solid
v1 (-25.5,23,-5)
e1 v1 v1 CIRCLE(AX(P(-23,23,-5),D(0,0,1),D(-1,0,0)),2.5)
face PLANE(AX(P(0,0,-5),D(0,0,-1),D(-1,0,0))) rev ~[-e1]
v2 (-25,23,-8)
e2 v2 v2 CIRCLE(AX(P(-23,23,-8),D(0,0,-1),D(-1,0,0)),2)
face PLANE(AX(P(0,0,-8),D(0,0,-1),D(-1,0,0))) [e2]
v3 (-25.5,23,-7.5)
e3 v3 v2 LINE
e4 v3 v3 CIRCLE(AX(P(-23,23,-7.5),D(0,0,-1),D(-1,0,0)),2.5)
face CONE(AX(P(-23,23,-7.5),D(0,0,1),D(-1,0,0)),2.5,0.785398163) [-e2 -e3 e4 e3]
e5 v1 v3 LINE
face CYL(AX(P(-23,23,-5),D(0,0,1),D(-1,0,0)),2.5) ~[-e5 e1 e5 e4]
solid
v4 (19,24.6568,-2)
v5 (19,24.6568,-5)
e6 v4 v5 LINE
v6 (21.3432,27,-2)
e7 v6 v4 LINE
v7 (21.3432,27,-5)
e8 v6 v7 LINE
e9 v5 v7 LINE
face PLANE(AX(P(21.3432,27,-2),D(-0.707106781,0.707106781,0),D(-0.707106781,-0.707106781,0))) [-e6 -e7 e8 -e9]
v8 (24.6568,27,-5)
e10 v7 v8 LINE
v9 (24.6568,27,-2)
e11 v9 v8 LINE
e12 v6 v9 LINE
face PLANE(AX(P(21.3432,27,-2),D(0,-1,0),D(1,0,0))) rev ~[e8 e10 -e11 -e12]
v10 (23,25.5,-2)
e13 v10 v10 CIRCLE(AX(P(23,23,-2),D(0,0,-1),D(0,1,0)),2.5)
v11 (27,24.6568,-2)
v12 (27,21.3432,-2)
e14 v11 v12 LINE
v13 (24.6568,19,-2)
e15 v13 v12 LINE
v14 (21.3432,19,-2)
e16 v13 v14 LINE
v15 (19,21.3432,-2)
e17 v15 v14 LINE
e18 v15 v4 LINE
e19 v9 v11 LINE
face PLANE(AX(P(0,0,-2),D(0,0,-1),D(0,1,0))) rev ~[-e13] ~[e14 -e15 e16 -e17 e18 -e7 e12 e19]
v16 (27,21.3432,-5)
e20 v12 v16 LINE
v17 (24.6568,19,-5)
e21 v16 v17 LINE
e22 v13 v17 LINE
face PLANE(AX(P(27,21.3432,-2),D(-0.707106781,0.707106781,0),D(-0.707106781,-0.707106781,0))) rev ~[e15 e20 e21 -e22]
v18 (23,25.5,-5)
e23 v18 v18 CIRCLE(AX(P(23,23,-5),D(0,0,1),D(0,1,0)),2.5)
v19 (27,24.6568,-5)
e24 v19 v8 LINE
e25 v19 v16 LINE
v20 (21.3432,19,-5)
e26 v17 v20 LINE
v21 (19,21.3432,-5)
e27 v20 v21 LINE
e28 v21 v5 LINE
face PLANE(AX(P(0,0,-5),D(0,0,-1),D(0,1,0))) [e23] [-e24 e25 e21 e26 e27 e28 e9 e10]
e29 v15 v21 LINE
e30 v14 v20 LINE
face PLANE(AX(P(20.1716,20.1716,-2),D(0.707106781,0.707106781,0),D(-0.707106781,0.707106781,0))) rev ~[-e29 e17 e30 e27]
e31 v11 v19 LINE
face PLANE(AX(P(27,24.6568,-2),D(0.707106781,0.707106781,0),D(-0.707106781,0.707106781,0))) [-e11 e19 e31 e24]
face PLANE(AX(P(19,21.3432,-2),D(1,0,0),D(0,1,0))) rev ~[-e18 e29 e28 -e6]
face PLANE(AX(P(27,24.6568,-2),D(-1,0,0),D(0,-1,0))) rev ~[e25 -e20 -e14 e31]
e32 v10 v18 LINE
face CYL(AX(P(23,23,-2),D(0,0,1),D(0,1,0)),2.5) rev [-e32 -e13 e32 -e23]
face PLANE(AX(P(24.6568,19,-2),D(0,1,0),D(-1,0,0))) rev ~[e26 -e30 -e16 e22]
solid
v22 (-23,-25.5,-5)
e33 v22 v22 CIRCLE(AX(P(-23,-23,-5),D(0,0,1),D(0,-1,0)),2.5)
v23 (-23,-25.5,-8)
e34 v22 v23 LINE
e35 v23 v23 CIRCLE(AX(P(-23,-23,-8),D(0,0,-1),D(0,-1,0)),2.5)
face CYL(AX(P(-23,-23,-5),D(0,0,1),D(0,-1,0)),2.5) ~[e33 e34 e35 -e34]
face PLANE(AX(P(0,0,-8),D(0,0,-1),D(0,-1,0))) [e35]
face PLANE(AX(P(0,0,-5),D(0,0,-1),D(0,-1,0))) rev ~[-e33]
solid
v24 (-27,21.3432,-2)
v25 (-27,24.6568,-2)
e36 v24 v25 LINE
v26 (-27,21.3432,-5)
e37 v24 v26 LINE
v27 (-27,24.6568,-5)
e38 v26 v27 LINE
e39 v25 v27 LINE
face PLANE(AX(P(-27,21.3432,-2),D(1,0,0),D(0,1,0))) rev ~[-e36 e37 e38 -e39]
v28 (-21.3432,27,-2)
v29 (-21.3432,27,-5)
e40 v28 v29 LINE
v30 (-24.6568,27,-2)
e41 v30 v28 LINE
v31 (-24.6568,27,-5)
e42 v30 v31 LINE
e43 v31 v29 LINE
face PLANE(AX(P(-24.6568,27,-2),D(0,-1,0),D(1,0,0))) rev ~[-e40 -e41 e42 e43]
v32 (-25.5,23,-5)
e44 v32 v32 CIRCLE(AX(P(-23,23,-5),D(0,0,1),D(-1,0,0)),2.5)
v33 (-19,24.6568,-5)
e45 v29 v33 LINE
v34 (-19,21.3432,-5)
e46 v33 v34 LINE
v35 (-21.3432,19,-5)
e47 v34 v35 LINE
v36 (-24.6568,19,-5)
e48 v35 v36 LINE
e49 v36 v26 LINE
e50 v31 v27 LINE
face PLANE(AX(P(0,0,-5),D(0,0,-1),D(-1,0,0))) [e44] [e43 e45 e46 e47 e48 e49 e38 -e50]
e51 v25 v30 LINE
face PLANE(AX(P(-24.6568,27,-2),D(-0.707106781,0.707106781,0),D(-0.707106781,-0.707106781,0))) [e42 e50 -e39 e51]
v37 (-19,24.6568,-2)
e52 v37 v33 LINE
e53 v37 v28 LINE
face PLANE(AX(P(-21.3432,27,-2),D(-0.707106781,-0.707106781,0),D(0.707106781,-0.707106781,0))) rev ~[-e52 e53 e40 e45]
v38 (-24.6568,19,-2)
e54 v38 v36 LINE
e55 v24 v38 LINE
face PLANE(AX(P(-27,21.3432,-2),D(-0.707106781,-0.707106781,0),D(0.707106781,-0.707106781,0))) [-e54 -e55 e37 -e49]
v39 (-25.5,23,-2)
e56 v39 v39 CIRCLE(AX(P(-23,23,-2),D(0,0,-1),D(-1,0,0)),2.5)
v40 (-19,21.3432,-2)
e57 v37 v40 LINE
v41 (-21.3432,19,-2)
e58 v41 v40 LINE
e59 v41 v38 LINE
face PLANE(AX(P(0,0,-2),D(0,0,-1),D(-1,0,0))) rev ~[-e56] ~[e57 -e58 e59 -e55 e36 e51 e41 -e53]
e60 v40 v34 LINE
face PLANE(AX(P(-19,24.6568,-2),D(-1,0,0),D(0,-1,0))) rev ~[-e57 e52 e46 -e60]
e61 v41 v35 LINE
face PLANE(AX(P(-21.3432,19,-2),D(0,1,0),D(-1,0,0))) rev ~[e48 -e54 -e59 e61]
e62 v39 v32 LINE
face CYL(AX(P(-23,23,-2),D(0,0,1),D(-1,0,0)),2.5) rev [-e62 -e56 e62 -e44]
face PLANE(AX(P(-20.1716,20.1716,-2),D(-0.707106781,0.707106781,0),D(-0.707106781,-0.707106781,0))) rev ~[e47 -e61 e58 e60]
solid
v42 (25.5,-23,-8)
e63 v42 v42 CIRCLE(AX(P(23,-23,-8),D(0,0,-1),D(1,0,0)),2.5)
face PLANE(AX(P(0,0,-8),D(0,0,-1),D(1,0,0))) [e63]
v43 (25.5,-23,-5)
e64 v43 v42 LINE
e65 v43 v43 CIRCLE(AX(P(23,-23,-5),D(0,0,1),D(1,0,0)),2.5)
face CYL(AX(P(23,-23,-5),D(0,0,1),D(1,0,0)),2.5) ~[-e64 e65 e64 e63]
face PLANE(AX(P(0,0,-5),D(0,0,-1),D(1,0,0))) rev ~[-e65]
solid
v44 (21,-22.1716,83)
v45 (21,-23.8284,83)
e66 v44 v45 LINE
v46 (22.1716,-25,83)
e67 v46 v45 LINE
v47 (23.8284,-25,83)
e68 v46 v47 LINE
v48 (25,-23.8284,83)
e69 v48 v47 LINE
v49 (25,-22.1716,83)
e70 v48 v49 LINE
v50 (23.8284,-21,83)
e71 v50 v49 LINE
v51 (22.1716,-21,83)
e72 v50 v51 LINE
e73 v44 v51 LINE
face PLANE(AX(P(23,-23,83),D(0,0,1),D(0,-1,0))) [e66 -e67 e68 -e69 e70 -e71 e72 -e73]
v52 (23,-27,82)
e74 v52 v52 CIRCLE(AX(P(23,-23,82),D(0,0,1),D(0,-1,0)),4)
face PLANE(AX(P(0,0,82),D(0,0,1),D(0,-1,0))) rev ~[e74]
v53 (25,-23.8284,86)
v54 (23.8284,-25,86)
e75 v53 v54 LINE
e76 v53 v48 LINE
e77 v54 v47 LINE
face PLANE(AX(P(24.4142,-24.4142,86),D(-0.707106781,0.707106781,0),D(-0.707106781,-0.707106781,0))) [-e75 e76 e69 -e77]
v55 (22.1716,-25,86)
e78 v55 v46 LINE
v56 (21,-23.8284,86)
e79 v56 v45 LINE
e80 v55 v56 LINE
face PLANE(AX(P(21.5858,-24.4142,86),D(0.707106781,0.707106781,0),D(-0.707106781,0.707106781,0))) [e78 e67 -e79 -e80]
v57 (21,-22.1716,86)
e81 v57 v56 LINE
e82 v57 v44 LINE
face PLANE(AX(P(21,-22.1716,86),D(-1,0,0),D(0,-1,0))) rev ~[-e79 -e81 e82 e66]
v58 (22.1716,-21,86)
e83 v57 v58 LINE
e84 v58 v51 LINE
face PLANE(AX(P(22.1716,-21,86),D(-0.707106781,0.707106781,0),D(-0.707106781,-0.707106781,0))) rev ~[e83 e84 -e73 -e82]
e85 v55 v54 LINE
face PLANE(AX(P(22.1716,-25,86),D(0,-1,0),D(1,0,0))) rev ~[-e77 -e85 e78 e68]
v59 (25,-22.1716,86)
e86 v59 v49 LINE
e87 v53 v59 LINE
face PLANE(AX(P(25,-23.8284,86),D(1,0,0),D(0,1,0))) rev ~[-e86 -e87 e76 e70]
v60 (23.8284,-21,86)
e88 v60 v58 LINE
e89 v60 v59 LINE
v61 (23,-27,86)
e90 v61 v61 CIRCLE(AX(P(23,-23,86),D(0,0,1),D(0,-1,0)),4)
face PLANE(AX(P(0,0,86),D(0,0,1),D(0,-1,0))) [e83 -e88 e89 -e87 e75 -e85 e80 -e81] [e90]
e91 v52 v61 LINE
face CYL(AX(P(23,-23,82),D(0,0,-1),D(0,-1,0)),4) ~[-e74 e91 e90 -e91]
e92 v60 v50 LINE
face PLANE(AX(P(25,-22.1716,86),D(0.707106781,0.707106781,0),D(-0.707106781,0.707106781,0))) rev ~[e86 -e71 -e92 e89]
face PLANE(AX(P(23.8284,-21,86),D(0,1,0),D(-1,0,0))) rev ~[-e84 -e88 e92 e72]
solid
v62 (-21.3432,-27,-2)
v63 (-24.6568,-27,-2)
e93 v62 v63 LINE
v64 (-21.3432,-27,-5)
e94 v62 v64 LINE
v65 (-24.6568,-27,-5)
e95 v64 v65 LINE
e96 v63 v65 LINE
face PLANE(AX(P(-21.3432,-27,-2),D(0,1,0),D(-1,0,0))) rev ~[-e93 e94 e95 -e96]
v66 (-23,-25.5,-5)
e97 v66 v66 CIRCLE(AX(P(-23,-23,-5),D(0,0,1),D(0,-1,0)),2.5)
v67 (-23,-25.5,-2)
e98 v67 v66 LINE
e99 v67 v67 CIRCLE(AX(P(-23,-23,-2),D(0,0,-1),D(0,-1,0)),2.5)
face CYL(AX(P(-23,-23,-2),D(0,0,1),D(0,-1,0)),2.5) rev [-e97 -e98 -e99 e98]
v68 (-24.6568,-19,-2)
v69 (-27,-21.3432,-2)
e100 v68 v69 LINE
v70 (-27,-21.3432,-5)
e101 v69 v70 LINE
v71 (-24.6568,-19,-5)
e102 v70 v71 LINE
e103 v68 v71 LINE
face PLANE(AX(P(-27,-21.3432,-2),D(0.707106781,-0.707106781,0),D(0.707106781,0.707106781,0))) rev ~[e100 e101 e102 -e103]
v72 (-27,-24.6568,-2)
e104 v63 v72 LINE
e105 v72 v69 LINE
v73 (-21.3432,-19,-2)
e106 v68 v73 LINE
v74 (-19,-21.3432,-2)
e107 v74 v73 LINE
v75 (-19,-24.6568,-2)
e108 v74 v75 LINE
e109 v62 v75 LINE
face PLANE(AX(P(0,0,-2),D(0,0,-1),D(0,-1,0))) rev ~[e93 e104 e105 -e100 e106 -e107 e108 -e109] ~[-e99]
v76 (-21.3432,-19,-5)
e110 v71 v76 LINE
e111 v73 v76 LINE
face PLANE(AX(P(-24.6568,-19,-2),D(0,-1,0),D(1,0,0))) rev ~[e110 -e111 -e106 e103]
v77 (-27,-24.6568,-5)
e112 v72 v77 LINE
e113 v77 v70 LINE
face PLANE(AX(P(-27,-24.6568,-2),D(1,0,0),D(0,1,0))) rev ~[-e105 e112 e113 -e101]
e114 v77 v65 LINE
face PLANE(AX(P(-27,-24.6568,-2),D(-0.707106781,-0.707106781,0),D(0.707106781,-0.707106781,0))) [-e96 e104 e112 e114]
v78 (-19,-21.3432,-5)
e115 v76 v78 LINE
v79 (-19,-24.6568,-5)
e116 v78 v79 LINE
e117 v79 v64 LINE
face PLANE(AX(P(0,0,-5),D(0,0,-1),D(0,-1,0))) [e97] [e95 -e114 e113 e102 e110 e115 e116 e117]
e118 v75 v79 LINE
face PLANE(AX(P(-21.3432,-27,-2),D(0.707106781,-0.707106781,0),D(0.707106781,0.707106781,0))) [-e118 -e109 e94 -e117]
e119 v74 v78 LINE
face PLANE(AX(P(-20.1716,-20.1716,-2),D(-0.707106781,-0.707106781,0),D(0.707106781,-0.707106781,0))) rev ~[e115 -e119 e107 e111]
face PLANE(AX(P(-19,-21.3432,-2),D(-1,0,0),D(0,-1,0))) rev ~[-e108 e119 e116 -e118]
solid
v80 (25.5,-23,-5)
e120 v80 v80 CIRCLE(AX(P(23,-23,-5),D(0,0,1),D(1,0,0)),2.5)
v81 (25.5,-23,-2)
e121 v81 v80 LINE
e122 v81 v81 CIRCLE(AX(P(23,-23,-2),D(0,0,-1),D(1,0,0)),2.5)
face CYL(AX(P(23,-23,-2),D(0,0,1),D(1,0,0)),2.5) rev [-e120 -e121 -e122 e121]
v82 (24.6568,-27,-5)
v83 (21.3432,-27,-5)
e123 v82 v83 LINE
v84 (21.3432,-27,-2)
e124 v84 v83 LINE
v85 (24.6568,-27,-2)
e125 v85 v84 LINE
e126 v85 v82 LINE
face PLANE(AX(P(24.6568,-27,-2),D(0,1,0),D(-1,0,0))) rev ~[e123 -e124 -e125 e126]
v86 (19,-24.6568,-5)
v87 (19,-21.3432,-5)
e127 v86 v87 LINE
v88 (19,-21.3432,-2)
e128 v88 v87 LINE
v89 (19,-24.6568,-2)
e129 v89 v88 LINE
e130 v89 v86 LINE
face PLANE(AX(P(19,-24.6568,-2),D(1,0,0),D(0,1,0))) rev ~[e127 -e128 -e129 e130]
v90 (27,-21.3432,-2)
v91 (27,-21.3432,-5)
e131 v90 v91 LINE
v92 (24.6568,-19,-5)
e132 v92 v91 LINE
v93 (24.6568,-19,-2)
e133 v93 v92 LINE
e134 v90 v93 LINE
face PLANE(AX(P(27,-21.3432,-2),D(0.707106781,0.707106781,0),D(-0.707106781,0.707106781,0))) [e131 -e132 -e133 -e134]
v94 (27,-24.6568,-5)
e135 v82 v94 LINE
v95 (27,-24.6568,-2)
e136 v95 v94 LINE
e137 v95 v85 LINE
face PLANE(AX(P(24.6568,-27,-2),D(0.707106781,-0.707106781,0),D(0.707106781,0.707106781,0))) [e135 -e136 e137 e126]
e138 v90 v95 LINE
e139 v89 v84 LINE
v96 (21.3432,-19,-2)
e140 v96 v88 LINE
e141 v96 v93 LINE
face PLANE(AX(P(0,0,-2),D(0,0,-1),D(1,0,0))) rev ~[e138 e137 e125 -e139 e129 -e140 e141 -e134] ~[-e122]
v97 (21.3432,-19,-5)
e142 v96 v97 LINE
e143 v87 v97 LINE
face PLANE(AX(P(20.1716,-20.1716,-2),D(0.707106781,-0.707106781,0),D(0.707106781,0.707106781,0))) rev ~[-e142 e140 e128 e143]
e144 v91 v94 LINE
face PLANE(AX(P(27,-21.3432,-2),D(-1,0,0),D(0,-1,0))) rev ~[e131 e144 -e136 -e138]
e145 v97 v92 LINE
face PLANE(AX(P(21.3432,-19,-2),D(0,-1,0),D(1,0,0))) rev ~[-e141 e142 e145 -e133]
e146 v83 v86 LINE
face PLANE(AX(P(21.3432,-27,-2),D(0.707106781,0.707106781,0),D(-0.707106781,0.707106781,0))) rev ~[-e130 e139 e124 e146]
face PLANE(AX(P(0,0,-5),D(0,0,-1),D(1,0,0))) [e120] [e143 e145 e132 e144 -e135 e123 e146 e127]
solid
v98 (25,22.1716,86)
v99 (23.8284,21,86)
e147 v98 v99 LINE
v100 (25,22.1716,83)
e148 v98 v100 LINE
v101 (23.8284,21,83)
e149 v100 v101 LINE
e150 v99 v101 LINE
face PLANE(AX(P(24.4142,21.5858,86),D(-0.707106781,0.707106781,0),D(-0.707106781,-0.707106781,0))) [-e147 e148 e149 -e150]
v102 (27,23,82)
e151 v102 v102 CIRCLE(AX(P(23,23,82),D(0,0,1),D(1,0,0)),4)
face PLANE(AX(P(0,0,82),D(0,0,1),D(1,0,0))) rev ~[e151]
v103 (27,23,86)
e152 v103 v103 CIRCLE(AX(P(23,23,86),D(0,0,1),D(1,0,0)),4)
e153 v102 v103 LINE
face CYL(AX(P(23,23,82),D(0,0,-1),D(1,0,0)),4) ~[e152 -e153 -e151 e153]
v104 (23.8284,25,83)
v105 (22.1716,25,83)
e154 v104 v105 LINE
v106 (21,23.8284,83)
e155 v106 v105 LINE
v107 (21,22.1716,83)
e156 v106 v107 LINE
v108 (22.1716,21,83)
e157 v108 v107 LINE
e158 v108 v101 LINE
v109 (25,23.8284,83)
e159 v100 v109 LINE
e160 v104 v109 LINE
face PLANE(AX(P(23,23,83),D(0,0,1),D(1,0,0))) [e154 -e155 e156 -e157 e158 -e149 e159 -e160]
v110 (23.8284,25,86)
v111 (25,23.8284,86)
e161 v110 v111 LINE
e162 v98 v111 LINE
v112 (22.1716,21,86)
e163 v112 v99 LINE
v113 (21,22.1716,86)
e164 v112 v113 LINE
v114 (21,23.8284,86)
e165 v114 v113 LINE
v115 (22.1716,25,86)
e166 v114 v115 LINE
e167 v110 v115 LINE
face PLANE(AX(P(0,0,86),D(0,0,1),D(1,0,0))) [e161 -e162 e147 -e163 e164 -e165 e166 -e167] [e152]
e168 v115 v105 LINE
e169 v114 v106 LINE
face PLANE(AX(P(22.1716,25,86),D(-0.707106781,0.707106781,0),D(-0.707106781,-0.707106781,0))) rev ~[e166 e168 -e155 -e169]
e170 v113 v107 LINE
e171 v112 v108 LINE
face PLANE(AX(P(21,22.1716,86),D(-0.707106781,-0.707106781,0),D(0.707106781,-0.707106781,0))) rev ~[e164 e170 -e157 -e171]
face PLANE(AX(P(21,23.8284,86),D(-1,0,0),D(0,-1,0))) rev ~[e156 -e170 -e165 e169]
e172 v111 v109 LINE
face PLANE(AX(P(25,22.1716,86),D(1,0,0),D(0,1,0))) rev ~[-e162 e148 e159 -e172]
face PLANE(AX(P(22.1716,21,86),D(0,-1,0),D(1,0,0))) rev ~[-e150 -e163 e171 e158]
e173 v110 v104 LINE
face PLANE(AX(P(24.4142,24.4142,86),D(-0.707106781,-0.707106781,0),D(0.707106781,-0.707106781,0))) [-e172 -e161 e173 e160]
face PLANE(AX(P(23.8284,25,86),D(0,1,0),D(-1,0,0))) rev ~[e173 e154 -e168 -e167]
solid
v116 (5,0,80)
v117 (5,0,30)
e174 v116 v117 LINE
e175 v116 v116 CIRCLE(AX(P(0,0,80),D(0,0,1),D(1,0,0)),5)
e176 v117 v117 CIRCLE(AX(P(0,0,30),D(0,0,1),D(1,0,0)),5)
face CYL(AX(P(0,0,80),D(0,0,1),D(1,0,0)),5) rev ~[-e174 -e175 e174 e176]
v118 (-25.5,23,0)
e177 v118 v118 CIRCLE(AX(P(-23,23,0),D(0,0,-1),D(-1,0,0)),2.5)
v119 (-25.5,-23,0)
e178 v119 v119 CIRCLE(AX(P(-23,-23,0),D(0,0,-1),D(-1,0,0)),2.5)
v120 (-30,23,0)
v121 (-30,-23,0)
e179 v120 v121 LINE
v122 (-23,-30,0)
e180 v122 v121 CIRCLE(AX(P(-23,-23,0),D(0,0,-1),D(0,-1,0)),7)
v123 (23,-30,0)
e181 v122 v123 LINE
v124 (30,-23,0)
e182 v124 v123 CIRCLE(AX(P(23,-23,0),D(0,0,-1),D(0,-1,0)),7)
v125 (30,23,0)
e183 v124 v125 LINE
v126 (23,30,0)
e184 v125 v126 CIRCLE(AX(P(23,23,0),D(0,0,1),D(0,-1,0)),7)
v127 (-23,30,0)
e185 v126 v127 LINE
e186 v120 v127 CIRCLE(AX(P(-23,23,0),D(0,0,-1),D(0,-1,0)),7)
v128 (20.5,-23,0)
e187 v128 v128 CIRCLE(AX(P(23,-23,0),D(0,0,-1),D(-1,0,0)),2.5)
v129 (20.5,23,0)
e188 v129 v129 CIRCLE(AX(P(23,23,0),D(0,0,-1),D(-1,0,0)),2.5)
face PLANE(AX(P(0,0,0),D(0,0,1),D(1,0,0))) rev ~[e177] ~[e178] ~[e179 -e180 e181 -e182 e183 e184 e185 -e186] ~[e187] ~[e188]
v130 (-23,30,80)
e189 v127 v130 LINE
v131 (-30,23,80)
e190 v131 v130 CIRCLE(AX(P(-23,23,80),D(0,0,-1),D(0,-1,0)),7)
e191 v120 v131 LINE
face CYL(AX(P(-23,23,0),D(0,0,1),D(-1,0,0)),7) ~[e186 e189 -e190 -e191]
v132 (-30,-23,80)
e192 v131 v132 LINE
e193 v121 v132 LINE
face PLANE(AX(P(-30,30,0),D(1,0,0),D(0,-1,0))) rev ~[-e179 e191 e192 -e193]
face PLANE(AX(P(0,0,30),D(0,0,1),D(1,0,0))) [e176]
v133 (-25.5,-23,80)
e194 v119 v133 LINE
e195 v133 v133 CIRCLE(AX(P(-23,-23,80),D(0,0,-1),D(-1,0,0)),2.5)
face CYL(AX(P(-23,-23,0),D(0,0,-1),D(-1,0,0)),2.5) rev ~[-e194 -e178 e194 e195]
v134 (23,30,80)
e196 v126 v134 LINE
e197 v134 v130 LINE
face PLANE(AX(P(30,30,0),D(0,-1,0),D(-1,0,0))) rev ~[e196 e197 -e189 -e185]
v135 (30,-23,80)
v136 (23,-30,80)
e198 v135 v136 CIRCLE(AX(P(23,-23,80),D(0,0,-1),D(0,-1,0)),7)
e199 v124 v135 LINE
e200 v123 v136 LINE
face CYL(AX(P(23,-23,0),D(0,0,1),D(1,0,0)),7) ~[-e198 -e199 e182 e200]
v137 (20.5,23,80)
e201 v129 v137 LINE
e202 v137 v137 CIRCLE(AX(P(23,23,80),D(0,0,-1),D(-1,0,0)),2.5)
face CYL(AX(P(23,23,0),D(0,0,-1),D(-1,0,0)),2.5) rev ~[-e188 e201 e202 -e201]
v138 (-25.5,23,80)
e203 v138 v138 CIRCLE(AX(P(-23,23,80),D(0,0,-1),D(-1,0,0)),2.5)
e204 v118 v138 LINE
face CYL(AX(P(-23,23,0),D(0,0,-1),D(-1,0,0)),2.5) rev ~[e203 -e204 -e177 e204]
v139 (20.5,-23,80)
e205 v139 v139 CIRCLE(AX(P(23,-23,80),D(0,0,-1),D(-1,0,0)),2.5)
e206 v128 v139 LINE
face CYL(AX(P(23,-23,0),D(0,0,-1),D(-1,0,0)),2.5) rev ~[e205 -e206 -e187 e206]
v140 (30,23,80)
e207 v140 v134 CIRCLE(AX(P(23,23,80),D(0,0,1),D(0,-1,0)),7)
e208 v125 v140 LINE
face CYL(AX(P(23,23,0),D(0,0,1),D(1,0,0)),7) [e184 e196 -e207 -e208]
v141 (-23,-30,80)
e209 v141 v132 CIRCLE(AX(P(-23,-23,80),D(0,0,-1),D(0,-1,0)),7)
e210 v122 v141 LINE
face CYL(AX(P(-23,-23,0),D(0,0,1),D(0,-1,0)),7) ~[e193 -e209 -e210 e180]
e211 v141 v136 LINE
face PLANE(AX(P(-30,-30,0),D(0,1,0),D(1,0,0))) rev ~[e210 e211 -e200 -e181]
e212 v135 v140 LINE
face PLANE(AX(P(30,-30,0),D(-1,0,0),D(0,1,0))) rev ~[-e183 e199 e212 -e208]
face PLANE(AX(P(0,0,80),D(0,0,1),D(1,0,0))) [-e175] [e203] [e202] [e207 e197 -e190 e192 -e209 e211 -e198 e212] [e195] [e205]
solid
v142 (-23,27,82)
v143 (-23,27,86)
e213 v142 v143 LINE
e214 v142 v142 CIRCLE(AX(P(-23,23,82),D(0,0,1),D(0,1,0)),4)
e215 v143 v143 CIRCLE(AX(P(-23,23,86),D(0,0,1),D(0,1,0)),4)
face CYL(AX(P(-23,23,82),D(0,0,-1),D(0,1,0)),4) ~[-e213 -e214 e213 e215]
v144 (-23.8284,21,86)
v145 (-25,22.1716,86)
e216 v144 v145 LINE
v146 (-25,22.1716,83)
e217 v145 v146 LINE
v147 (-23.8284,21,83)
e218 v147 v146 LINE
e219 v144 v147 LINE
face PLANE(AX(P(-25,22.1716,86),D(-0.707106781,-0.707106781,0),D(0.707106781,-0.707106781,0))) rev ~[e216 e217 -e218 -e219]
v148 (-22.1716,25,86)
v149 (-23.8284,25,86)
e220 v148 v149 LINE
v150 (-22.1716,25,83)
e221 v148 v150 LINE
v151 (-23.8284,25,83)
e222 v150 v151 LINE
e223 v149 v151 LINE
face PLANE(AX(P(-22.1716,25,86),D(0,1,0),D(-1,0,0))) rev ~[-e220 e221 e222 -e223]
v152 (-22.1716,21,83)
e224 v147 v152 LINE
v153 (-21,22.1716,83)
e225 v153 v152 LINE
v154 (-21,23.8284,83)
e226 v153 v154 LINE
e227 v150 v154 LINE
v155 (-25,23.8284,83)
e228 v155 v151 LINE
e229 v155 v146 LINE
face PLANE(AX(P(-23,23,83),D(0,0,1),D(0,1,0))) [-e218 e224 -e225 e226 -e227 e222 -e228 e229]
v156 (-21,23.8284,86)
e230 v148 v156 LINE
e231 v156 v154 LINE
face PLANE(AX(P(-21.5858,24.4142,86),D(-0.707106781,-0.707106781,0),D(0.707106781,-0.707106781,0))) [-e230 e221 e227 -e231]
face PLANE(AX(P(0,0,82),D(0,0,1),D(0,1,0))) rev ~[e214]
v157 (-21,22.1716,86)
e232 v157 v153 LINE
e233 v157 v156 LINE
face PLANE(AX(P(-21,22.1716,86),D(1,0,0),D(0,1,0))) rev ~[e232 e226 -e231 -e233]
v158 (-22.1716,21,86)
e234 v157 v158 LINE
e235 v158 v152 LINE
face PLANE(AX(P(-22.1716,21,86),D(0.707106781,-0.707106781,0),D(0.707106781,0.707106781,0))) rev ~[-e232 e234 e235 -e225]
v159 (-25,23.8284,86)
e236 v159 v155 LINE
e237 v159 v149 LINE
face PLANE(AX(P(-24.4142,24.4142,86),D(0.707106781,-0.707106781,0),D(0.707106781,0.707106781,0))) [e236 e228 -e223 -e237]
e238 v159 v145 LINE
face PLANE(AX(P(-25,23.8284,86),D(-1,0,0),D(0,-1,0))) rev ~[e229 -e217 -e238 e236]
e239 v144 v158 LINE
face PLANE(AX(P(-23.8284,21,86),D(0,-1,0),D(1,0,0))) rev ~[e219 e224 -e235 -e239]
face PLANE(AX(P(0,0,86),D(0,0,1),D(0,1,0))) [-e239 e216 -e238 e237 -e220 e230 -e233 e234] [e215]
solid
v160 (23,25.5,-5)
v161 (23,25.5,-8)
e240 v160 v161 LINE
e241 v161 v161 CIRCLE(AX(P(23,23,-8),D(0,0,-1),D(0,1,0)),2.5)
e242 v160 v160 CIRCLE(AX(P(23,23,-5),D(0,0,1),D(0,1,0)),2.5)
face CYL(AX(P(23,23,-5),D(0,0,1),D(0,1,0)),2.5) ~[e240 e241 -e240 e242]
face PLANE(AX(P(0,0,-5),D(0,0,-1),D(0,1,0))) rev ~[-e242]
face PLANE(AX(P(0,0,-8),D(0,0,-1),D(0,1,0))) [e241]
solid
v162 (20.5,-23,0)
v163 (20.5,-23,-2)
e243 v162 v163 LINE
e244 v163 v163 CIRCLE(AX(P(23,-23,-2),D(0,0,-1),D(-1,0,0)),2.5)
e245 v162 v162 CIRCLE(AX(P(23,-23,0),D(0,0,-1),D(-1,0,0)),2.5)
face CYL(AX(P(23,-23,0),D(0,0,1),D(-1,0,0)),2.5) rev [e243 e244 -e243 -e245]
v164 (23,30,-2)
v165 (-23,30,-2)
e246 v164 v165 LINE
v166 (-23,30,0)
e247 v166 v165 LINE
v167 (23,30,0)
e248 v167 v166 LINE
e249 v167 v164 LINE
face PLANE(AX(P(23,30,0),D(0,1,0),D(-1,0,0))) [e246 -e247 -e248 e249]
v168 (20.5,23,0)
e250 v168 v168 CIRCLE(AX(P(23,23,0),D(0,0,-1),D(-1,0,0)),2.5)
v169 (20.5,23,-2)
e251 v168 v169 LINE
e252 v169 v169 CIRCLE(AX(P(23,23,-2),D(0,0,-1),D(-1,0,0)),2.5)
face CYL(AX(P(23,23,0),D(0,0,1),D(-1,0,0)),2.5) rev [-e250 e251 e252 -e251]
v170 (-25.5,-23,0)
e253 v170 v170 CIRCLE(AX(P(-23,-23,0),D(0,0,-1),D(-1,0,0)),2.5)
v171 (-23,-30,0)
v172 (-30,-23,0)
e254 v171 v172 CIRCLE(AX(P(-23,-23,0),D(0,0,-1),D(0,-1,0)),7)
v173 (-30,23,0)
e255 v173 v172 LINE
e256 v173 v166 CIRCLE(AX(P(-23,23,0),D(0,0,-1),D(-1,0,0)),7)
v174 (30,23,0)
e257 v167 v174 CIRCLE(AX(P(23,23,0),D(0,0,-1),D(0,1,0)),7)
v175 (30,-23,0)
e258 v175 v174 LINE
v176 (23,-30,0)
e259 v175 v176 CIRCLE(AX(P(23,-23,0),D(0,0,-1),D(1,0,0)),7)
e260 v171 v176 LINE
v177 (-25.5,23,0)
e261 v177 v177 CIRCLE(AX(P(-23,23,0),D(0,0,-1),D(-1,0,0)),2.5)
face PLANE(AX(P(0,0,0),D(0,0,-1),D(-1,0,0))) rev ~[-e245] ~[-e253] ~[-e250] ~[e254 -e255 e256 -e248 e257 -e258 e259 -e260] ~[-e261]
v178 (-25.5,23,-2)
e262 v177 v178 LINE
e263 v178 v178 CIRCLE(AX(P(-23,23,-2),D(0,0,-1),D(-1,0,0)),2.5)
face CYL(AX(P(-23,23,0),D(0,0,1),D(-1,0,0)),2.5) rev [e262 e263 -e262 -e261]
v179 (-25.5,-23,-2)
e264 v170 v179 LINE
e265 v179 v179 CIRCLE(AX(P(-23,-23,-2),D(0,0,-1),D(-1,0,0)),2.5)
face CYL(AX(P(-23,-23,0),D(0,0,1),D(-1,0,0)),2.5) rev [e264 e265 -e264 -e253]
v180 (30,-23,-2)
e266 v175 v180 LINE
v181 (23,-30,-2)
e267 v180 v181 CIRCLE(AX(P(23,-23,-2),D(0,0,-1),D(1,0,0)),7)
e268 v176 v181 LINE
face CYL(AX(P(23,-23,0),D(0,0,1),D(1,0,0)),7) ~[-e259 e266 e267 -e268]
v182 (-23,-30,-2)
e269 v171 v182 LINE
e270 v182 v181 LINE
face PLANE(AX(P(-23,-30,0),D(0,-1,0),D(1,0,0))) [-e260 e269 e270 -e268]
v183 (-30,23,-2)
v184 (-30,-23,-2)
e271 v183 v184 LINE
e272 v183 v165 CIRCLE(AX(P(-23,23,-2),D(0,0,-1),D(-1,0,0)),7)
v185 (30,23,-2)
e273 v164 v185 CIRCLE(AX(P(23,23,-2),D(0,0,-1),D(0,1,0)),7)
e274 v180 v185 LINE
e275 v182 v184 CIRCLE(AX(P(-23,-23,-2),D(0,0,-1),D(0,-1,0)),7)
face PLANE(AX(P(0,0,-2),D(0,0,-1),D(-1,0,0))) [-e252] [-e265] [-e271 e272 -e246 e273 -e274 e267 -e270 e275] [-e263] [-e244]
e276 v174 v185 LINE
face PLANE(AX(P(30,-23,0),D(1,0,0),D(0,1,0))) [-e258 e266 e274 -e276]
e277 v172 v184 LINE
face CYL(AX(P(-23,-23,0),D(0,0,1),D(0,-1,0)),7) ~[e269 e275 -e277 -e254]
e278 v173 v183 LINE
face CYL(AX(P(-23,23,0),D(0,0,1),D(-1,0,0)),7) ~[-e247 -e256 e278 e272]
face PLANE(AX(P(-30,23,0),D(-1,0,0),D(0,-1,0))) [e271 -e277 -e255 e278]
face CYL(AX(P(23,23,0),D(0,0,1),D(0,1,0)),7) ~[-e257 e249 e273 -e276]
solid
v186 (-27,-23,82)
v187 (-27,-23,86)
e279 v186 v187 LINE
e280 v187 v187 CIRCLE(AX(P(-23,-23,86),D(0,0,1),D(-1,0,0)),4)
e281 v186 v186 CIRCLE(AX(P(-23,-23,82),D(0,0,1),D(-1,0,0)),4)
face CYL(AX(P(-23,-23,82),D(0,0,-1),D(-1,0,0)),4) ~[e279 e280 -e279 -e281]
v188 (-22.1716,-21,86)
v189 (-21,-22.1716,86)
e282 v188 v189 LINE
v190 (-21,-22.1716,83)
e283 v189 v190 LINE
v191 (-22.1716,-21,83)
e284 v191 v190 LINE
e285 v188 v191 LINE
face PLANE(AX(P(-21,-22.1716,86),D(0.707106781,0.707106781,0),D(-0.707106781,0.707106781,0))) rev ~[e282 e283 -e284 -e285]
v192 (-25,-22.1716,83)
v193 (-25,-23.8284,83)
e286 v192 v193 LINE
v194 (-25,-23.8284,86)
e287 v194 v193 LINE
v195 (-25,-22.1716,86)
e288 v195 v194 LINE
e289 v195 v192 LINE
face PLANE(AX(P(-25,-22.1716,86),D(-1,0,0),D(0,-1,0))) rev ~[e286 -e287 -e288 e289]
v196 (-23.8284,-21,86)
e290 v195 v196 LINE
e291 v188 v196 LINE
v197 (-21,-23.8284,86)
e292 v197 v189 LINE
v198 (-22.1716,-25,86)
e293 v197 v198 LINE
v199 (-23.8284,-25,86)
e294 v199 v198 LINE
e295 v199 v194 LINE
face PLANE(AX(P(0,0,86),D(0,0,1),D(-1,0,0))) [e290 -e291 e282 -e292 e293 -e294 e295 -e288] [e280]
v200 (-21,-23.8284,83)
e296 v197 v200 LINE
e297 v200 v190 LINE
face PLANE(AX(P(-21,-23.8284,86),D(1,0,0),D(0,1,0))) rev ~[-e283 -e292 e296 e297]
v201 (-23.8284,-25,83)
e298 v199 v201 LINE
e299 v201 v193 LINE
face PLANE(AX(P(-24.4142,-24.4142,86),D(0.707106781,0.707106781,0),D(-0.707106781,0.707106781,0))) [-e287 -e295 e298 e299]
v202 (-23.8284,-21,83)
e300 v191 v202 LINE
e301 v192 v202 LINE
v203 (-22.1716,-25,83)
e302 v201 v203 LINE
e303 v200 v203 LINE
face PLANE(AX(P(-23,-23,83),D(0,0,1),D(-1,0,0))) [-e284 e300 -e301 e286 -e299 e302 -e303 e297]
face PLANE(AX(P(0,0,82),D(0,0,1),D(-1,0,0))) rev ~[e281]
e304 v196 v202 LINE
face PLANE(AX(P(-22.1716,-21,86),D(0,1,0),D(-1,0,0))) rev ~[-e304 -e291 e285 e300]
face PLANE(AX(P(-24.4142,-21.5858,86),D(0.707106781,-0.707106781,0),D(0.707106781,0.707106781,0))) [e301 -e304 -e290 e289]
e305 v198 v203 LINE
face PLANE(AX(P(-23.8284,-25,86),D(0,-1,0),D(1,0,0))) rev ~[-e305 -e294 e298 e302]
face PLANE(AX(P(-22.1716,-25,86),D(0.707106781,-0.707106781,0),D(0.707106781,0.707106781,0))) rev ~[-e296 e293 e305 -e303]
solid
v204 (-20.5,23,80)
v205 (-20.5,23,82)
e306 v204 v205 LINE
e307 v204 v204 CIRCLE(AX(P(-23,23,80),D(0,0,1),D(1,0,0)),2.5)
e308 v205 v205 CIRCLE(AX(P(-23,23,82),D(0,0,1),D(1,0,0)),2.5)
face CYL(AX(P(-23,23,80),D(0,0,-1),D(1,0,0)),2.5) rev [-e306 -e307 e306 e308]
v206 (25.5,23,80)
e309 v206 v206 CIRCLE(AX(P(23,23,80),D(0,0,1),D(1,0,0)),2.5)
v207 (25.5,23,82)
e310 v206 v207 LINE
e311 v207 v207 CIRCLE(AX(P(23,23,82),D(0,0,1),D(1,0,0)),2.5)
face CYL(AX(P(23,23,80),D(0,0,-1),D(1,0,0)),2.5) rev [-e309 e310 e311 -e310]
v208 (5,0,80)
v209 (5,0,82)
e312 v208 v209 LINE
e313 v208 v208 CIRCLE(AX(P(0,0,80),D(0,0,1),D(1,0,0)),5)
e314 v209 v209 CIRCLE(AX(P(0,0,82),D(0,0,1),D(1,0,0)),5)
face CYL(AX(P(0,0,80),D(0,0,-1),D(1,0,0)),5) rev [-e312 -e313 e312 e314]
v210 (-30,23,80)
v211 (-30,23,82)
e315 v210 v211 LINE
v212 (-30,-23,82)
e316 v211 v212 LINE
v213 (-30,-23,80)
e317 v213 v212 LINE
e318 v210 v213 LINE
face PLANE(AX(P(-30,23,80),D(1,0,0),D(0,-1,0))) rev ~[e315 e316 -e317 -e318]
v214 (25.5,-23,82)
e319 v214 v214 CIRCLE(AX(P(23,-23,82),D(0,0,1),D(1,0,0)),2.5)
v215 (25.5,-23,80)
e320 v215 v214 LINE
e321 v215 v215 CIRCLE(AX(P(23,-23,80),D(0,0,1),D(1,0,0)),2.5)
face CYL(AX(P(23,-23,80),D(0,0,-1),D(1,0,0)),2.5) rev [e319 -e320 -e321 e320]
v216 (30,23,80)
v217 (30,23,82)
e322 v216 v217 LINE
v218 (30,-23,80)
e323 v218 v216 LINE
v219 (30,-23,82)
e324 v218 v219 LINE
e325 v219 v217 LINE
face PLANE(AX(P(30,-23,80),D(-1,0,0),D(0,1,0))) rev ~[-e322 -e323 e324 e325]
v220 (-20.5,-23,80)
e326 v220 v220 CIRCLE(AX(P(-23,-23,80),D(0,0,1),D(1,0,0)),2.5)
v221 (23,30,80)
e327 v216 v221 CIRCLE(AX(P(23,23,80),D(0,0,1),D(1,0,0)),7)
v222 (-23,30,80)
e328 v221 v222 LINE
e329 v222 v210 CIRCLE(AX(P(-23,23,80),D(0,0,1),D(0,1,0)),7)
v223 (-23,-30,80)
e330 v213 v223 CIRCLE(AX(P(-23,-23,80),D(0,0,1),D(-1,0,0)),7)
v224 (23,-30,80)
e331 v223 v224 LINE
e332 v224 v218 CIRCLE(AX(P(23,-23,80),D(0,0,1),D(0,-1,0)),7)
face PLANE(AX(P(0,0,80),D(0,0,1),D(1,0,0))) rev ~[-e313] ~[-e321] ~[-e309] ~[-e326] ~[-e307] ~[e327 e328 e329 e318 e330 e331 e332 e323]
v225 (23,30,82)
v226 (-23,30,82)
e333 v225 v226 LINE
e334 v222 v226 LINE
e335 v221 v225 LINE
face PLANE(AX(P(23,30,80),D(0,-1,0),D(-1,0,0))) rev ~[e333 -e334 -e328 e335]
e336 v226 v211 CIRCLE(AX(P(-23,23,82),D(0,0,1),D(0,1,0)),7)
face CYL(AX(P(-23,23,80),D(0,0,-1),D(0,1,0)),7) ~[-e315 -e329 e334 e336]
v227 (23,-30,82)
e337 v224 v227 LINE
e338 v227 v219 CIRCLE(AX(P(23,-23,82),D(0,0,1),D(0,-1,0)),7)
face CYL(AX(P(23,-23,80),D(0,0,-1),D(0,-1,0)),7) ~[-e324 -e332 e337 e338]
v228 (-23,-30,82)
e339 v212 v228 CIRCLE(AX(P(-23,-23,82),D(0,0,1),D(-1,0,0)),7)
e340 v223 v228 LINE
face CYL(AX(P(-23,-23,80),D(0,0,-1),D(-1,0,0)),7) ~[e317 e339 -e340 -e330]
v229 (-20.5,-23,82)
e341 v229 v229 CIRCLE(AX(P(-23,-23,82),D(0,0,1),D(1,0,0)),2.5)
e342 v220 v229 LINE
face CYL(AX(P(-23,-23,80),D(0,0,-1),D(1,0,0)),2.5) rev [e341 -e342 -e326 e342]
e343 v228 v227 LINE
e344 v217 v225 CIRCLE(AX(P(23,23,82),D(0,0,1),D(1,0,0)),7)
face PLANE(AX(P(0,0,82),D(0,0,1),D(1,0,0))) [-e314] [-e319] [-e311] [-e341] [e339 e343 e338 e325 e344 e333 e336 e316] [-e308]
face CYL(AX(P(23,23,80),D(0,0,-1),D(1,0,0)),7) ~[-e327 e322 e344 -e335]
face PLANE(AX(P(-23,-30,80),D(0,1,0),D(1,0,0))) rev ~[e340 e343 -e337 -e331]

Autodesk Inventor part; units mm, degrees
ref_plane "YZ Plane" through (0, 0, 0) normal (1, 0, 0) x (0, 1, 0)
ref_plane "XZ Plane" through (0, 0, 0) normal (0, 1, 0) x (-1, 0, 0)
ref_plane "XY Plane" through (0, 0, 0) normal (0, 0, 1) x (1, 0, 0)
sketch "Sketch1" plane through (0, 0, 0) normal (0, 0, 1) x (1, 0, 0)
  line L0 (30, 30) -> (-30, 30)
  line L1 (-30, 30) -> (-30, -30)
  line L2 (-30, -30) -> (30, -30)
  line L3 (30, -30) -> (30, 30)
  line L4 (30, 30) -> (-30, -30) construction
  line L5 (-30, 30) -> (30, -30) construction
  point P0 (0, 0)
  dimension "d0" = 60
  dimension "d1" = 60
extrude "Extrusion1" add sketch "Sketch1" along normal blind 80
fillet "Fillet1" radius 7 4 edges at (30, -30, 40) (30, 30, 40) (-30, -30, 40) (-30, 30, 40)
sketch "Sketch2" plane through (0, 0, 0) normal (0, 0, -1) x (-1, 0, 0)
  arc A0 (-23, 30) -> (-30, 23) centre (-23, 23) ccw projected
  circle A1 centre (-23, 23) radius 2.5
  arc A2 (30, 23) -> (23, 30) centre (23, 23) ccw projected
  circle A3 centre (23, 23) radius 2.5
  arc A4 (-30, -23) -> (-23, -30) centre (-23, -23) ccw projected
  circle A5 centre (-23, -23) radius 2.5
  arc A6 (23, -30) -> (30, -23) centre (23, -23) ccw projected
  circle A7 centre (23, -23) radius 2.5
  point P0 (0, 0)
  dimension "d5" = 5
  dimension "d6" = 5
  dimension "d7" = 5
  dimension "d8" = 5
extrude "Extrusion2" cut sketch "Sketch2" against normal blind 80
sketch "Sketch3" plane through (0, 0, 80) normal (0, 0, 1) x (1, 0, 0)
  circle A0 centre (0, 0) radius 5
  dimension "d11" = 10
extrude "Extrusion3" cut sketch "Sketch3" against normal blind 50
sketch "Sketch4" plane through (0, 0, 80) normal (0, 0, 1) x (1, 0, 0)
  circle A0 centre (0, 0) radius 5 projected
  circle A1 centre (23, -23) radius 2.5 projected
  circle A2 centre (-23, 23) radius 2.5 projected
  circle A3 centre (-23, -23) radius 2.5 projected
  circle A4 centre (23, 23) radius 2.5 projected
  arc A5 (-23, 30) -> (-30, 23) centre (-23, 23) ccw projected
  line L0 (-30, 23) -> (-30, -23) projected
  arc A6 (-30, -23) -> (-23, -30) centre (-23, -23) ccw projected
  line L1 (-23, -30) -> (23, -30) projected
  arc A7 (23, -30) -> (30, -23) centre (23, -23) ccw projected
  line L2 (30, -23) -> (30, 23) projected
  arc A8 (30, 23) -> (23, 30) centre (23, 23) ccw projected
  line L3 (23, 30) -> (-23, 30) projected
extrude "Extrusion4" add sketch "Sketch4" along normal blind 2 separate body
sketch "Sketch5" plane through (0, 0, 0) normal (0, 0, -1) x (-1, 0, 0)
  circle A0 centre (-23, -23) radius 2.5 projected
  circle A1 centre (23, 23) radius 2.5 projected
  circle A2 centre (23, -23) radius 2.5 projected
  circle A3 centre (-23, 23) radius 2.5 projected
  arc A4 (30, 23) -> (23, 30) centre (23, 23) ccw projected
  line L0 (-23, 30) -> (23, 30) projected
  arc A5 (-23, 30) -> (-30, 23) centre (-23, 23) ccw projected
  line L1 (-30, -23) -> (-30, 23) projected
  arc A6 (-30, -23) -> (-23, -30) centre (-23, -23) ccw projected
  line L2 (23, -30) -> (-23, -30) projected
  arc A7 (23, -30) -> (30, -23) centre (23, -23) ccw projected
  line L3 (30, 23) -> (30, -23) projected
  point P0 (0, 0)
extrude "Extrusion5" add sketch "Sketch5" along normal blind 2 separate body
sketch "Sketch6" plane through (0, 0, 82) normal (0, 0, 1) x (1, 0, 0)
  circle A0 centre (23, 23) radius 2.5 projected
  circle A1 centre (23, 23) radius 4
  point P0 (0, 0)
  dimension "d18" = 8
extrude "Extrusion6" add sketch "Sketch6" along normal blind 4 separate body contours A0 | A1
sketch "Sketch7" plane through (23, 23, 86) normal (0, 0, 1) x (1, 0, 0)
  line L0 (2, 2) -> (-2, 2)
  line L1 (-2, 2) -> (-2, -2)
  line L2 (-2, -2) -> (2, -2)
  line L3 (2, -2) -> (2, 2)
  line L4 (2, 2) -> (-2, -2) construction
  line L5 (-2, 2) -> (2, -2) construction
  line L6 (-3.4142, 0.5858) -> (0.5858, -3.4142)
  line L7 (-0.5858, 3.4142) -> (3.4142, -0.5858)
  line L8 (0.5858, 3.4142) -> (-3.4142, -0.5858)
  line L9 (3.4142, 0.5858) -> (-0.5858, -3.4142)
  line L10 (2, 2) -> (1.4142, 1.4142)
  line L11 (-1.4142, -1.4142) -> (-2, -2)
  line L12 (2, -2) -> (1.4142, -1.4142)
  line L13 (-1.4142, 1.4142) -> (-2, 2)
  point P0 (-23, -23)
  point P1 (2, -0.8284)
  point P2 (2, 0.8284)
  point P3 (0.8284, 2)
  point P4 (-0.8284, 2)
  point P5 (-2, 0.8284)
  point P6 (-2, -0.8284)
  point P7 (-0.8284, -2)
  point P8 (0.8284, -2)
  dimension "d21" = 4
  dimension "d22" = 4
  dimension "d23" = 2
  dimension "d24" = 4
  dimension "d25" = 2
  dimension "d26" = 4
extrude "Extrusion7" cut sketch "Sketch7" against normal blind 3 contours L7 L3 L9 L2 L6 L1 L8 L0 bodies 4
pattern_circular "Circular Pattern1" count 4 over 360 about axis through (0, 0, 80) along (0, 0, 1) of "Extrusion6" bodies 4
pattern_circular "Circular Pattern2" count 4 over 360 about axis through (0, 0, 80) along (0, 0, 1) of "Extrusion7" bodies 4
sketch "Sketch8" plane through (0, 0, -2) normal (0, 0, -1) x (-1, 0, 0)
  line L0 (27, 27) -> (19, 27)
  line L1 (19, 27) -> (19, 19)
  line L2 (19, 19) -> (27, 19)
  line L3 (27, 19) -> (27, 27)
  circle A0 centre (23, 23) radius 2.5 projected
  line L4 (27, 27) -> (19, 19) construction
  line L5 (19, 27) -> (27, 19) construction
  line L6 (24.1716, 29.8284) -> (16.1716, 21.8284)
  line L7 (29.8284, 24.1716) -> (21.8284, 16.1716)
  line L8 (16.1716, 24.1716) -> (24.1716, 16.1716)
  line L9 (21.8284, 29.8284) -> (29.8284, 21.8284)
  line L10 (27, 27) -> (25.8284, 25.8284)
  line L11 (21.2322, 24.7678) -> (19, 27)
  line L12 (24.7678, 24.7678) -> (23, 23)
  line L13 (21.2322, 21.2322) -> (19, 19)
  line L14 (27, 19) -> (25.8284, 20.1716)
  line L15 (24.7678, 21.2322) -> (23, 23)
  point P0 (0, 0)
  point P1 (19, 24.6569)
  point P2 (19, 21.3431)
  point P3 (21.3431, 19)
  point P4 (24.6569, 19)
  point P5 (27, 21.3431)
  point P6 (27, 24.6569)
  point P7 (24.6569, 27)
  point P8 (21.3431, 27)
  dimension "d35" = 4
  dimension "d36" = 8
  dimension "d37" = 4
  dimension "d38" = 8
extrude "Extrusion8" add sketch "Sketch8" along normal blind 3 separate body contours L9 L3 L7 L2 L8 L13 A0 L11 L6 L0 | L11 A0 L13 L8 L1 L6
sketch "Sketch9" plane through (0, 0, -5) normal (0, 0, -1) x (-1, 0, 0)
  circle A0 centre (23, 23) radius 2.5 projected
  point P0 (0, 0)
extrude "Extrusion9" add sketch "Sketch9" along normal blind 3 bodies 5
chamfer "Chamfer1" distance 0.5 angle 45 1 edges at (-20.5, 23, -8)
thread "Thread1" size "M5x0.8" class "6g" standard "ANSI Metric M Profile" length 60
pattern_circular "Circular Pattern3" count 4 over 360 about axis through (0, 0, 80) along (0, 0, 1) of "Extrusion8", "Extrusion9" bodies 5
